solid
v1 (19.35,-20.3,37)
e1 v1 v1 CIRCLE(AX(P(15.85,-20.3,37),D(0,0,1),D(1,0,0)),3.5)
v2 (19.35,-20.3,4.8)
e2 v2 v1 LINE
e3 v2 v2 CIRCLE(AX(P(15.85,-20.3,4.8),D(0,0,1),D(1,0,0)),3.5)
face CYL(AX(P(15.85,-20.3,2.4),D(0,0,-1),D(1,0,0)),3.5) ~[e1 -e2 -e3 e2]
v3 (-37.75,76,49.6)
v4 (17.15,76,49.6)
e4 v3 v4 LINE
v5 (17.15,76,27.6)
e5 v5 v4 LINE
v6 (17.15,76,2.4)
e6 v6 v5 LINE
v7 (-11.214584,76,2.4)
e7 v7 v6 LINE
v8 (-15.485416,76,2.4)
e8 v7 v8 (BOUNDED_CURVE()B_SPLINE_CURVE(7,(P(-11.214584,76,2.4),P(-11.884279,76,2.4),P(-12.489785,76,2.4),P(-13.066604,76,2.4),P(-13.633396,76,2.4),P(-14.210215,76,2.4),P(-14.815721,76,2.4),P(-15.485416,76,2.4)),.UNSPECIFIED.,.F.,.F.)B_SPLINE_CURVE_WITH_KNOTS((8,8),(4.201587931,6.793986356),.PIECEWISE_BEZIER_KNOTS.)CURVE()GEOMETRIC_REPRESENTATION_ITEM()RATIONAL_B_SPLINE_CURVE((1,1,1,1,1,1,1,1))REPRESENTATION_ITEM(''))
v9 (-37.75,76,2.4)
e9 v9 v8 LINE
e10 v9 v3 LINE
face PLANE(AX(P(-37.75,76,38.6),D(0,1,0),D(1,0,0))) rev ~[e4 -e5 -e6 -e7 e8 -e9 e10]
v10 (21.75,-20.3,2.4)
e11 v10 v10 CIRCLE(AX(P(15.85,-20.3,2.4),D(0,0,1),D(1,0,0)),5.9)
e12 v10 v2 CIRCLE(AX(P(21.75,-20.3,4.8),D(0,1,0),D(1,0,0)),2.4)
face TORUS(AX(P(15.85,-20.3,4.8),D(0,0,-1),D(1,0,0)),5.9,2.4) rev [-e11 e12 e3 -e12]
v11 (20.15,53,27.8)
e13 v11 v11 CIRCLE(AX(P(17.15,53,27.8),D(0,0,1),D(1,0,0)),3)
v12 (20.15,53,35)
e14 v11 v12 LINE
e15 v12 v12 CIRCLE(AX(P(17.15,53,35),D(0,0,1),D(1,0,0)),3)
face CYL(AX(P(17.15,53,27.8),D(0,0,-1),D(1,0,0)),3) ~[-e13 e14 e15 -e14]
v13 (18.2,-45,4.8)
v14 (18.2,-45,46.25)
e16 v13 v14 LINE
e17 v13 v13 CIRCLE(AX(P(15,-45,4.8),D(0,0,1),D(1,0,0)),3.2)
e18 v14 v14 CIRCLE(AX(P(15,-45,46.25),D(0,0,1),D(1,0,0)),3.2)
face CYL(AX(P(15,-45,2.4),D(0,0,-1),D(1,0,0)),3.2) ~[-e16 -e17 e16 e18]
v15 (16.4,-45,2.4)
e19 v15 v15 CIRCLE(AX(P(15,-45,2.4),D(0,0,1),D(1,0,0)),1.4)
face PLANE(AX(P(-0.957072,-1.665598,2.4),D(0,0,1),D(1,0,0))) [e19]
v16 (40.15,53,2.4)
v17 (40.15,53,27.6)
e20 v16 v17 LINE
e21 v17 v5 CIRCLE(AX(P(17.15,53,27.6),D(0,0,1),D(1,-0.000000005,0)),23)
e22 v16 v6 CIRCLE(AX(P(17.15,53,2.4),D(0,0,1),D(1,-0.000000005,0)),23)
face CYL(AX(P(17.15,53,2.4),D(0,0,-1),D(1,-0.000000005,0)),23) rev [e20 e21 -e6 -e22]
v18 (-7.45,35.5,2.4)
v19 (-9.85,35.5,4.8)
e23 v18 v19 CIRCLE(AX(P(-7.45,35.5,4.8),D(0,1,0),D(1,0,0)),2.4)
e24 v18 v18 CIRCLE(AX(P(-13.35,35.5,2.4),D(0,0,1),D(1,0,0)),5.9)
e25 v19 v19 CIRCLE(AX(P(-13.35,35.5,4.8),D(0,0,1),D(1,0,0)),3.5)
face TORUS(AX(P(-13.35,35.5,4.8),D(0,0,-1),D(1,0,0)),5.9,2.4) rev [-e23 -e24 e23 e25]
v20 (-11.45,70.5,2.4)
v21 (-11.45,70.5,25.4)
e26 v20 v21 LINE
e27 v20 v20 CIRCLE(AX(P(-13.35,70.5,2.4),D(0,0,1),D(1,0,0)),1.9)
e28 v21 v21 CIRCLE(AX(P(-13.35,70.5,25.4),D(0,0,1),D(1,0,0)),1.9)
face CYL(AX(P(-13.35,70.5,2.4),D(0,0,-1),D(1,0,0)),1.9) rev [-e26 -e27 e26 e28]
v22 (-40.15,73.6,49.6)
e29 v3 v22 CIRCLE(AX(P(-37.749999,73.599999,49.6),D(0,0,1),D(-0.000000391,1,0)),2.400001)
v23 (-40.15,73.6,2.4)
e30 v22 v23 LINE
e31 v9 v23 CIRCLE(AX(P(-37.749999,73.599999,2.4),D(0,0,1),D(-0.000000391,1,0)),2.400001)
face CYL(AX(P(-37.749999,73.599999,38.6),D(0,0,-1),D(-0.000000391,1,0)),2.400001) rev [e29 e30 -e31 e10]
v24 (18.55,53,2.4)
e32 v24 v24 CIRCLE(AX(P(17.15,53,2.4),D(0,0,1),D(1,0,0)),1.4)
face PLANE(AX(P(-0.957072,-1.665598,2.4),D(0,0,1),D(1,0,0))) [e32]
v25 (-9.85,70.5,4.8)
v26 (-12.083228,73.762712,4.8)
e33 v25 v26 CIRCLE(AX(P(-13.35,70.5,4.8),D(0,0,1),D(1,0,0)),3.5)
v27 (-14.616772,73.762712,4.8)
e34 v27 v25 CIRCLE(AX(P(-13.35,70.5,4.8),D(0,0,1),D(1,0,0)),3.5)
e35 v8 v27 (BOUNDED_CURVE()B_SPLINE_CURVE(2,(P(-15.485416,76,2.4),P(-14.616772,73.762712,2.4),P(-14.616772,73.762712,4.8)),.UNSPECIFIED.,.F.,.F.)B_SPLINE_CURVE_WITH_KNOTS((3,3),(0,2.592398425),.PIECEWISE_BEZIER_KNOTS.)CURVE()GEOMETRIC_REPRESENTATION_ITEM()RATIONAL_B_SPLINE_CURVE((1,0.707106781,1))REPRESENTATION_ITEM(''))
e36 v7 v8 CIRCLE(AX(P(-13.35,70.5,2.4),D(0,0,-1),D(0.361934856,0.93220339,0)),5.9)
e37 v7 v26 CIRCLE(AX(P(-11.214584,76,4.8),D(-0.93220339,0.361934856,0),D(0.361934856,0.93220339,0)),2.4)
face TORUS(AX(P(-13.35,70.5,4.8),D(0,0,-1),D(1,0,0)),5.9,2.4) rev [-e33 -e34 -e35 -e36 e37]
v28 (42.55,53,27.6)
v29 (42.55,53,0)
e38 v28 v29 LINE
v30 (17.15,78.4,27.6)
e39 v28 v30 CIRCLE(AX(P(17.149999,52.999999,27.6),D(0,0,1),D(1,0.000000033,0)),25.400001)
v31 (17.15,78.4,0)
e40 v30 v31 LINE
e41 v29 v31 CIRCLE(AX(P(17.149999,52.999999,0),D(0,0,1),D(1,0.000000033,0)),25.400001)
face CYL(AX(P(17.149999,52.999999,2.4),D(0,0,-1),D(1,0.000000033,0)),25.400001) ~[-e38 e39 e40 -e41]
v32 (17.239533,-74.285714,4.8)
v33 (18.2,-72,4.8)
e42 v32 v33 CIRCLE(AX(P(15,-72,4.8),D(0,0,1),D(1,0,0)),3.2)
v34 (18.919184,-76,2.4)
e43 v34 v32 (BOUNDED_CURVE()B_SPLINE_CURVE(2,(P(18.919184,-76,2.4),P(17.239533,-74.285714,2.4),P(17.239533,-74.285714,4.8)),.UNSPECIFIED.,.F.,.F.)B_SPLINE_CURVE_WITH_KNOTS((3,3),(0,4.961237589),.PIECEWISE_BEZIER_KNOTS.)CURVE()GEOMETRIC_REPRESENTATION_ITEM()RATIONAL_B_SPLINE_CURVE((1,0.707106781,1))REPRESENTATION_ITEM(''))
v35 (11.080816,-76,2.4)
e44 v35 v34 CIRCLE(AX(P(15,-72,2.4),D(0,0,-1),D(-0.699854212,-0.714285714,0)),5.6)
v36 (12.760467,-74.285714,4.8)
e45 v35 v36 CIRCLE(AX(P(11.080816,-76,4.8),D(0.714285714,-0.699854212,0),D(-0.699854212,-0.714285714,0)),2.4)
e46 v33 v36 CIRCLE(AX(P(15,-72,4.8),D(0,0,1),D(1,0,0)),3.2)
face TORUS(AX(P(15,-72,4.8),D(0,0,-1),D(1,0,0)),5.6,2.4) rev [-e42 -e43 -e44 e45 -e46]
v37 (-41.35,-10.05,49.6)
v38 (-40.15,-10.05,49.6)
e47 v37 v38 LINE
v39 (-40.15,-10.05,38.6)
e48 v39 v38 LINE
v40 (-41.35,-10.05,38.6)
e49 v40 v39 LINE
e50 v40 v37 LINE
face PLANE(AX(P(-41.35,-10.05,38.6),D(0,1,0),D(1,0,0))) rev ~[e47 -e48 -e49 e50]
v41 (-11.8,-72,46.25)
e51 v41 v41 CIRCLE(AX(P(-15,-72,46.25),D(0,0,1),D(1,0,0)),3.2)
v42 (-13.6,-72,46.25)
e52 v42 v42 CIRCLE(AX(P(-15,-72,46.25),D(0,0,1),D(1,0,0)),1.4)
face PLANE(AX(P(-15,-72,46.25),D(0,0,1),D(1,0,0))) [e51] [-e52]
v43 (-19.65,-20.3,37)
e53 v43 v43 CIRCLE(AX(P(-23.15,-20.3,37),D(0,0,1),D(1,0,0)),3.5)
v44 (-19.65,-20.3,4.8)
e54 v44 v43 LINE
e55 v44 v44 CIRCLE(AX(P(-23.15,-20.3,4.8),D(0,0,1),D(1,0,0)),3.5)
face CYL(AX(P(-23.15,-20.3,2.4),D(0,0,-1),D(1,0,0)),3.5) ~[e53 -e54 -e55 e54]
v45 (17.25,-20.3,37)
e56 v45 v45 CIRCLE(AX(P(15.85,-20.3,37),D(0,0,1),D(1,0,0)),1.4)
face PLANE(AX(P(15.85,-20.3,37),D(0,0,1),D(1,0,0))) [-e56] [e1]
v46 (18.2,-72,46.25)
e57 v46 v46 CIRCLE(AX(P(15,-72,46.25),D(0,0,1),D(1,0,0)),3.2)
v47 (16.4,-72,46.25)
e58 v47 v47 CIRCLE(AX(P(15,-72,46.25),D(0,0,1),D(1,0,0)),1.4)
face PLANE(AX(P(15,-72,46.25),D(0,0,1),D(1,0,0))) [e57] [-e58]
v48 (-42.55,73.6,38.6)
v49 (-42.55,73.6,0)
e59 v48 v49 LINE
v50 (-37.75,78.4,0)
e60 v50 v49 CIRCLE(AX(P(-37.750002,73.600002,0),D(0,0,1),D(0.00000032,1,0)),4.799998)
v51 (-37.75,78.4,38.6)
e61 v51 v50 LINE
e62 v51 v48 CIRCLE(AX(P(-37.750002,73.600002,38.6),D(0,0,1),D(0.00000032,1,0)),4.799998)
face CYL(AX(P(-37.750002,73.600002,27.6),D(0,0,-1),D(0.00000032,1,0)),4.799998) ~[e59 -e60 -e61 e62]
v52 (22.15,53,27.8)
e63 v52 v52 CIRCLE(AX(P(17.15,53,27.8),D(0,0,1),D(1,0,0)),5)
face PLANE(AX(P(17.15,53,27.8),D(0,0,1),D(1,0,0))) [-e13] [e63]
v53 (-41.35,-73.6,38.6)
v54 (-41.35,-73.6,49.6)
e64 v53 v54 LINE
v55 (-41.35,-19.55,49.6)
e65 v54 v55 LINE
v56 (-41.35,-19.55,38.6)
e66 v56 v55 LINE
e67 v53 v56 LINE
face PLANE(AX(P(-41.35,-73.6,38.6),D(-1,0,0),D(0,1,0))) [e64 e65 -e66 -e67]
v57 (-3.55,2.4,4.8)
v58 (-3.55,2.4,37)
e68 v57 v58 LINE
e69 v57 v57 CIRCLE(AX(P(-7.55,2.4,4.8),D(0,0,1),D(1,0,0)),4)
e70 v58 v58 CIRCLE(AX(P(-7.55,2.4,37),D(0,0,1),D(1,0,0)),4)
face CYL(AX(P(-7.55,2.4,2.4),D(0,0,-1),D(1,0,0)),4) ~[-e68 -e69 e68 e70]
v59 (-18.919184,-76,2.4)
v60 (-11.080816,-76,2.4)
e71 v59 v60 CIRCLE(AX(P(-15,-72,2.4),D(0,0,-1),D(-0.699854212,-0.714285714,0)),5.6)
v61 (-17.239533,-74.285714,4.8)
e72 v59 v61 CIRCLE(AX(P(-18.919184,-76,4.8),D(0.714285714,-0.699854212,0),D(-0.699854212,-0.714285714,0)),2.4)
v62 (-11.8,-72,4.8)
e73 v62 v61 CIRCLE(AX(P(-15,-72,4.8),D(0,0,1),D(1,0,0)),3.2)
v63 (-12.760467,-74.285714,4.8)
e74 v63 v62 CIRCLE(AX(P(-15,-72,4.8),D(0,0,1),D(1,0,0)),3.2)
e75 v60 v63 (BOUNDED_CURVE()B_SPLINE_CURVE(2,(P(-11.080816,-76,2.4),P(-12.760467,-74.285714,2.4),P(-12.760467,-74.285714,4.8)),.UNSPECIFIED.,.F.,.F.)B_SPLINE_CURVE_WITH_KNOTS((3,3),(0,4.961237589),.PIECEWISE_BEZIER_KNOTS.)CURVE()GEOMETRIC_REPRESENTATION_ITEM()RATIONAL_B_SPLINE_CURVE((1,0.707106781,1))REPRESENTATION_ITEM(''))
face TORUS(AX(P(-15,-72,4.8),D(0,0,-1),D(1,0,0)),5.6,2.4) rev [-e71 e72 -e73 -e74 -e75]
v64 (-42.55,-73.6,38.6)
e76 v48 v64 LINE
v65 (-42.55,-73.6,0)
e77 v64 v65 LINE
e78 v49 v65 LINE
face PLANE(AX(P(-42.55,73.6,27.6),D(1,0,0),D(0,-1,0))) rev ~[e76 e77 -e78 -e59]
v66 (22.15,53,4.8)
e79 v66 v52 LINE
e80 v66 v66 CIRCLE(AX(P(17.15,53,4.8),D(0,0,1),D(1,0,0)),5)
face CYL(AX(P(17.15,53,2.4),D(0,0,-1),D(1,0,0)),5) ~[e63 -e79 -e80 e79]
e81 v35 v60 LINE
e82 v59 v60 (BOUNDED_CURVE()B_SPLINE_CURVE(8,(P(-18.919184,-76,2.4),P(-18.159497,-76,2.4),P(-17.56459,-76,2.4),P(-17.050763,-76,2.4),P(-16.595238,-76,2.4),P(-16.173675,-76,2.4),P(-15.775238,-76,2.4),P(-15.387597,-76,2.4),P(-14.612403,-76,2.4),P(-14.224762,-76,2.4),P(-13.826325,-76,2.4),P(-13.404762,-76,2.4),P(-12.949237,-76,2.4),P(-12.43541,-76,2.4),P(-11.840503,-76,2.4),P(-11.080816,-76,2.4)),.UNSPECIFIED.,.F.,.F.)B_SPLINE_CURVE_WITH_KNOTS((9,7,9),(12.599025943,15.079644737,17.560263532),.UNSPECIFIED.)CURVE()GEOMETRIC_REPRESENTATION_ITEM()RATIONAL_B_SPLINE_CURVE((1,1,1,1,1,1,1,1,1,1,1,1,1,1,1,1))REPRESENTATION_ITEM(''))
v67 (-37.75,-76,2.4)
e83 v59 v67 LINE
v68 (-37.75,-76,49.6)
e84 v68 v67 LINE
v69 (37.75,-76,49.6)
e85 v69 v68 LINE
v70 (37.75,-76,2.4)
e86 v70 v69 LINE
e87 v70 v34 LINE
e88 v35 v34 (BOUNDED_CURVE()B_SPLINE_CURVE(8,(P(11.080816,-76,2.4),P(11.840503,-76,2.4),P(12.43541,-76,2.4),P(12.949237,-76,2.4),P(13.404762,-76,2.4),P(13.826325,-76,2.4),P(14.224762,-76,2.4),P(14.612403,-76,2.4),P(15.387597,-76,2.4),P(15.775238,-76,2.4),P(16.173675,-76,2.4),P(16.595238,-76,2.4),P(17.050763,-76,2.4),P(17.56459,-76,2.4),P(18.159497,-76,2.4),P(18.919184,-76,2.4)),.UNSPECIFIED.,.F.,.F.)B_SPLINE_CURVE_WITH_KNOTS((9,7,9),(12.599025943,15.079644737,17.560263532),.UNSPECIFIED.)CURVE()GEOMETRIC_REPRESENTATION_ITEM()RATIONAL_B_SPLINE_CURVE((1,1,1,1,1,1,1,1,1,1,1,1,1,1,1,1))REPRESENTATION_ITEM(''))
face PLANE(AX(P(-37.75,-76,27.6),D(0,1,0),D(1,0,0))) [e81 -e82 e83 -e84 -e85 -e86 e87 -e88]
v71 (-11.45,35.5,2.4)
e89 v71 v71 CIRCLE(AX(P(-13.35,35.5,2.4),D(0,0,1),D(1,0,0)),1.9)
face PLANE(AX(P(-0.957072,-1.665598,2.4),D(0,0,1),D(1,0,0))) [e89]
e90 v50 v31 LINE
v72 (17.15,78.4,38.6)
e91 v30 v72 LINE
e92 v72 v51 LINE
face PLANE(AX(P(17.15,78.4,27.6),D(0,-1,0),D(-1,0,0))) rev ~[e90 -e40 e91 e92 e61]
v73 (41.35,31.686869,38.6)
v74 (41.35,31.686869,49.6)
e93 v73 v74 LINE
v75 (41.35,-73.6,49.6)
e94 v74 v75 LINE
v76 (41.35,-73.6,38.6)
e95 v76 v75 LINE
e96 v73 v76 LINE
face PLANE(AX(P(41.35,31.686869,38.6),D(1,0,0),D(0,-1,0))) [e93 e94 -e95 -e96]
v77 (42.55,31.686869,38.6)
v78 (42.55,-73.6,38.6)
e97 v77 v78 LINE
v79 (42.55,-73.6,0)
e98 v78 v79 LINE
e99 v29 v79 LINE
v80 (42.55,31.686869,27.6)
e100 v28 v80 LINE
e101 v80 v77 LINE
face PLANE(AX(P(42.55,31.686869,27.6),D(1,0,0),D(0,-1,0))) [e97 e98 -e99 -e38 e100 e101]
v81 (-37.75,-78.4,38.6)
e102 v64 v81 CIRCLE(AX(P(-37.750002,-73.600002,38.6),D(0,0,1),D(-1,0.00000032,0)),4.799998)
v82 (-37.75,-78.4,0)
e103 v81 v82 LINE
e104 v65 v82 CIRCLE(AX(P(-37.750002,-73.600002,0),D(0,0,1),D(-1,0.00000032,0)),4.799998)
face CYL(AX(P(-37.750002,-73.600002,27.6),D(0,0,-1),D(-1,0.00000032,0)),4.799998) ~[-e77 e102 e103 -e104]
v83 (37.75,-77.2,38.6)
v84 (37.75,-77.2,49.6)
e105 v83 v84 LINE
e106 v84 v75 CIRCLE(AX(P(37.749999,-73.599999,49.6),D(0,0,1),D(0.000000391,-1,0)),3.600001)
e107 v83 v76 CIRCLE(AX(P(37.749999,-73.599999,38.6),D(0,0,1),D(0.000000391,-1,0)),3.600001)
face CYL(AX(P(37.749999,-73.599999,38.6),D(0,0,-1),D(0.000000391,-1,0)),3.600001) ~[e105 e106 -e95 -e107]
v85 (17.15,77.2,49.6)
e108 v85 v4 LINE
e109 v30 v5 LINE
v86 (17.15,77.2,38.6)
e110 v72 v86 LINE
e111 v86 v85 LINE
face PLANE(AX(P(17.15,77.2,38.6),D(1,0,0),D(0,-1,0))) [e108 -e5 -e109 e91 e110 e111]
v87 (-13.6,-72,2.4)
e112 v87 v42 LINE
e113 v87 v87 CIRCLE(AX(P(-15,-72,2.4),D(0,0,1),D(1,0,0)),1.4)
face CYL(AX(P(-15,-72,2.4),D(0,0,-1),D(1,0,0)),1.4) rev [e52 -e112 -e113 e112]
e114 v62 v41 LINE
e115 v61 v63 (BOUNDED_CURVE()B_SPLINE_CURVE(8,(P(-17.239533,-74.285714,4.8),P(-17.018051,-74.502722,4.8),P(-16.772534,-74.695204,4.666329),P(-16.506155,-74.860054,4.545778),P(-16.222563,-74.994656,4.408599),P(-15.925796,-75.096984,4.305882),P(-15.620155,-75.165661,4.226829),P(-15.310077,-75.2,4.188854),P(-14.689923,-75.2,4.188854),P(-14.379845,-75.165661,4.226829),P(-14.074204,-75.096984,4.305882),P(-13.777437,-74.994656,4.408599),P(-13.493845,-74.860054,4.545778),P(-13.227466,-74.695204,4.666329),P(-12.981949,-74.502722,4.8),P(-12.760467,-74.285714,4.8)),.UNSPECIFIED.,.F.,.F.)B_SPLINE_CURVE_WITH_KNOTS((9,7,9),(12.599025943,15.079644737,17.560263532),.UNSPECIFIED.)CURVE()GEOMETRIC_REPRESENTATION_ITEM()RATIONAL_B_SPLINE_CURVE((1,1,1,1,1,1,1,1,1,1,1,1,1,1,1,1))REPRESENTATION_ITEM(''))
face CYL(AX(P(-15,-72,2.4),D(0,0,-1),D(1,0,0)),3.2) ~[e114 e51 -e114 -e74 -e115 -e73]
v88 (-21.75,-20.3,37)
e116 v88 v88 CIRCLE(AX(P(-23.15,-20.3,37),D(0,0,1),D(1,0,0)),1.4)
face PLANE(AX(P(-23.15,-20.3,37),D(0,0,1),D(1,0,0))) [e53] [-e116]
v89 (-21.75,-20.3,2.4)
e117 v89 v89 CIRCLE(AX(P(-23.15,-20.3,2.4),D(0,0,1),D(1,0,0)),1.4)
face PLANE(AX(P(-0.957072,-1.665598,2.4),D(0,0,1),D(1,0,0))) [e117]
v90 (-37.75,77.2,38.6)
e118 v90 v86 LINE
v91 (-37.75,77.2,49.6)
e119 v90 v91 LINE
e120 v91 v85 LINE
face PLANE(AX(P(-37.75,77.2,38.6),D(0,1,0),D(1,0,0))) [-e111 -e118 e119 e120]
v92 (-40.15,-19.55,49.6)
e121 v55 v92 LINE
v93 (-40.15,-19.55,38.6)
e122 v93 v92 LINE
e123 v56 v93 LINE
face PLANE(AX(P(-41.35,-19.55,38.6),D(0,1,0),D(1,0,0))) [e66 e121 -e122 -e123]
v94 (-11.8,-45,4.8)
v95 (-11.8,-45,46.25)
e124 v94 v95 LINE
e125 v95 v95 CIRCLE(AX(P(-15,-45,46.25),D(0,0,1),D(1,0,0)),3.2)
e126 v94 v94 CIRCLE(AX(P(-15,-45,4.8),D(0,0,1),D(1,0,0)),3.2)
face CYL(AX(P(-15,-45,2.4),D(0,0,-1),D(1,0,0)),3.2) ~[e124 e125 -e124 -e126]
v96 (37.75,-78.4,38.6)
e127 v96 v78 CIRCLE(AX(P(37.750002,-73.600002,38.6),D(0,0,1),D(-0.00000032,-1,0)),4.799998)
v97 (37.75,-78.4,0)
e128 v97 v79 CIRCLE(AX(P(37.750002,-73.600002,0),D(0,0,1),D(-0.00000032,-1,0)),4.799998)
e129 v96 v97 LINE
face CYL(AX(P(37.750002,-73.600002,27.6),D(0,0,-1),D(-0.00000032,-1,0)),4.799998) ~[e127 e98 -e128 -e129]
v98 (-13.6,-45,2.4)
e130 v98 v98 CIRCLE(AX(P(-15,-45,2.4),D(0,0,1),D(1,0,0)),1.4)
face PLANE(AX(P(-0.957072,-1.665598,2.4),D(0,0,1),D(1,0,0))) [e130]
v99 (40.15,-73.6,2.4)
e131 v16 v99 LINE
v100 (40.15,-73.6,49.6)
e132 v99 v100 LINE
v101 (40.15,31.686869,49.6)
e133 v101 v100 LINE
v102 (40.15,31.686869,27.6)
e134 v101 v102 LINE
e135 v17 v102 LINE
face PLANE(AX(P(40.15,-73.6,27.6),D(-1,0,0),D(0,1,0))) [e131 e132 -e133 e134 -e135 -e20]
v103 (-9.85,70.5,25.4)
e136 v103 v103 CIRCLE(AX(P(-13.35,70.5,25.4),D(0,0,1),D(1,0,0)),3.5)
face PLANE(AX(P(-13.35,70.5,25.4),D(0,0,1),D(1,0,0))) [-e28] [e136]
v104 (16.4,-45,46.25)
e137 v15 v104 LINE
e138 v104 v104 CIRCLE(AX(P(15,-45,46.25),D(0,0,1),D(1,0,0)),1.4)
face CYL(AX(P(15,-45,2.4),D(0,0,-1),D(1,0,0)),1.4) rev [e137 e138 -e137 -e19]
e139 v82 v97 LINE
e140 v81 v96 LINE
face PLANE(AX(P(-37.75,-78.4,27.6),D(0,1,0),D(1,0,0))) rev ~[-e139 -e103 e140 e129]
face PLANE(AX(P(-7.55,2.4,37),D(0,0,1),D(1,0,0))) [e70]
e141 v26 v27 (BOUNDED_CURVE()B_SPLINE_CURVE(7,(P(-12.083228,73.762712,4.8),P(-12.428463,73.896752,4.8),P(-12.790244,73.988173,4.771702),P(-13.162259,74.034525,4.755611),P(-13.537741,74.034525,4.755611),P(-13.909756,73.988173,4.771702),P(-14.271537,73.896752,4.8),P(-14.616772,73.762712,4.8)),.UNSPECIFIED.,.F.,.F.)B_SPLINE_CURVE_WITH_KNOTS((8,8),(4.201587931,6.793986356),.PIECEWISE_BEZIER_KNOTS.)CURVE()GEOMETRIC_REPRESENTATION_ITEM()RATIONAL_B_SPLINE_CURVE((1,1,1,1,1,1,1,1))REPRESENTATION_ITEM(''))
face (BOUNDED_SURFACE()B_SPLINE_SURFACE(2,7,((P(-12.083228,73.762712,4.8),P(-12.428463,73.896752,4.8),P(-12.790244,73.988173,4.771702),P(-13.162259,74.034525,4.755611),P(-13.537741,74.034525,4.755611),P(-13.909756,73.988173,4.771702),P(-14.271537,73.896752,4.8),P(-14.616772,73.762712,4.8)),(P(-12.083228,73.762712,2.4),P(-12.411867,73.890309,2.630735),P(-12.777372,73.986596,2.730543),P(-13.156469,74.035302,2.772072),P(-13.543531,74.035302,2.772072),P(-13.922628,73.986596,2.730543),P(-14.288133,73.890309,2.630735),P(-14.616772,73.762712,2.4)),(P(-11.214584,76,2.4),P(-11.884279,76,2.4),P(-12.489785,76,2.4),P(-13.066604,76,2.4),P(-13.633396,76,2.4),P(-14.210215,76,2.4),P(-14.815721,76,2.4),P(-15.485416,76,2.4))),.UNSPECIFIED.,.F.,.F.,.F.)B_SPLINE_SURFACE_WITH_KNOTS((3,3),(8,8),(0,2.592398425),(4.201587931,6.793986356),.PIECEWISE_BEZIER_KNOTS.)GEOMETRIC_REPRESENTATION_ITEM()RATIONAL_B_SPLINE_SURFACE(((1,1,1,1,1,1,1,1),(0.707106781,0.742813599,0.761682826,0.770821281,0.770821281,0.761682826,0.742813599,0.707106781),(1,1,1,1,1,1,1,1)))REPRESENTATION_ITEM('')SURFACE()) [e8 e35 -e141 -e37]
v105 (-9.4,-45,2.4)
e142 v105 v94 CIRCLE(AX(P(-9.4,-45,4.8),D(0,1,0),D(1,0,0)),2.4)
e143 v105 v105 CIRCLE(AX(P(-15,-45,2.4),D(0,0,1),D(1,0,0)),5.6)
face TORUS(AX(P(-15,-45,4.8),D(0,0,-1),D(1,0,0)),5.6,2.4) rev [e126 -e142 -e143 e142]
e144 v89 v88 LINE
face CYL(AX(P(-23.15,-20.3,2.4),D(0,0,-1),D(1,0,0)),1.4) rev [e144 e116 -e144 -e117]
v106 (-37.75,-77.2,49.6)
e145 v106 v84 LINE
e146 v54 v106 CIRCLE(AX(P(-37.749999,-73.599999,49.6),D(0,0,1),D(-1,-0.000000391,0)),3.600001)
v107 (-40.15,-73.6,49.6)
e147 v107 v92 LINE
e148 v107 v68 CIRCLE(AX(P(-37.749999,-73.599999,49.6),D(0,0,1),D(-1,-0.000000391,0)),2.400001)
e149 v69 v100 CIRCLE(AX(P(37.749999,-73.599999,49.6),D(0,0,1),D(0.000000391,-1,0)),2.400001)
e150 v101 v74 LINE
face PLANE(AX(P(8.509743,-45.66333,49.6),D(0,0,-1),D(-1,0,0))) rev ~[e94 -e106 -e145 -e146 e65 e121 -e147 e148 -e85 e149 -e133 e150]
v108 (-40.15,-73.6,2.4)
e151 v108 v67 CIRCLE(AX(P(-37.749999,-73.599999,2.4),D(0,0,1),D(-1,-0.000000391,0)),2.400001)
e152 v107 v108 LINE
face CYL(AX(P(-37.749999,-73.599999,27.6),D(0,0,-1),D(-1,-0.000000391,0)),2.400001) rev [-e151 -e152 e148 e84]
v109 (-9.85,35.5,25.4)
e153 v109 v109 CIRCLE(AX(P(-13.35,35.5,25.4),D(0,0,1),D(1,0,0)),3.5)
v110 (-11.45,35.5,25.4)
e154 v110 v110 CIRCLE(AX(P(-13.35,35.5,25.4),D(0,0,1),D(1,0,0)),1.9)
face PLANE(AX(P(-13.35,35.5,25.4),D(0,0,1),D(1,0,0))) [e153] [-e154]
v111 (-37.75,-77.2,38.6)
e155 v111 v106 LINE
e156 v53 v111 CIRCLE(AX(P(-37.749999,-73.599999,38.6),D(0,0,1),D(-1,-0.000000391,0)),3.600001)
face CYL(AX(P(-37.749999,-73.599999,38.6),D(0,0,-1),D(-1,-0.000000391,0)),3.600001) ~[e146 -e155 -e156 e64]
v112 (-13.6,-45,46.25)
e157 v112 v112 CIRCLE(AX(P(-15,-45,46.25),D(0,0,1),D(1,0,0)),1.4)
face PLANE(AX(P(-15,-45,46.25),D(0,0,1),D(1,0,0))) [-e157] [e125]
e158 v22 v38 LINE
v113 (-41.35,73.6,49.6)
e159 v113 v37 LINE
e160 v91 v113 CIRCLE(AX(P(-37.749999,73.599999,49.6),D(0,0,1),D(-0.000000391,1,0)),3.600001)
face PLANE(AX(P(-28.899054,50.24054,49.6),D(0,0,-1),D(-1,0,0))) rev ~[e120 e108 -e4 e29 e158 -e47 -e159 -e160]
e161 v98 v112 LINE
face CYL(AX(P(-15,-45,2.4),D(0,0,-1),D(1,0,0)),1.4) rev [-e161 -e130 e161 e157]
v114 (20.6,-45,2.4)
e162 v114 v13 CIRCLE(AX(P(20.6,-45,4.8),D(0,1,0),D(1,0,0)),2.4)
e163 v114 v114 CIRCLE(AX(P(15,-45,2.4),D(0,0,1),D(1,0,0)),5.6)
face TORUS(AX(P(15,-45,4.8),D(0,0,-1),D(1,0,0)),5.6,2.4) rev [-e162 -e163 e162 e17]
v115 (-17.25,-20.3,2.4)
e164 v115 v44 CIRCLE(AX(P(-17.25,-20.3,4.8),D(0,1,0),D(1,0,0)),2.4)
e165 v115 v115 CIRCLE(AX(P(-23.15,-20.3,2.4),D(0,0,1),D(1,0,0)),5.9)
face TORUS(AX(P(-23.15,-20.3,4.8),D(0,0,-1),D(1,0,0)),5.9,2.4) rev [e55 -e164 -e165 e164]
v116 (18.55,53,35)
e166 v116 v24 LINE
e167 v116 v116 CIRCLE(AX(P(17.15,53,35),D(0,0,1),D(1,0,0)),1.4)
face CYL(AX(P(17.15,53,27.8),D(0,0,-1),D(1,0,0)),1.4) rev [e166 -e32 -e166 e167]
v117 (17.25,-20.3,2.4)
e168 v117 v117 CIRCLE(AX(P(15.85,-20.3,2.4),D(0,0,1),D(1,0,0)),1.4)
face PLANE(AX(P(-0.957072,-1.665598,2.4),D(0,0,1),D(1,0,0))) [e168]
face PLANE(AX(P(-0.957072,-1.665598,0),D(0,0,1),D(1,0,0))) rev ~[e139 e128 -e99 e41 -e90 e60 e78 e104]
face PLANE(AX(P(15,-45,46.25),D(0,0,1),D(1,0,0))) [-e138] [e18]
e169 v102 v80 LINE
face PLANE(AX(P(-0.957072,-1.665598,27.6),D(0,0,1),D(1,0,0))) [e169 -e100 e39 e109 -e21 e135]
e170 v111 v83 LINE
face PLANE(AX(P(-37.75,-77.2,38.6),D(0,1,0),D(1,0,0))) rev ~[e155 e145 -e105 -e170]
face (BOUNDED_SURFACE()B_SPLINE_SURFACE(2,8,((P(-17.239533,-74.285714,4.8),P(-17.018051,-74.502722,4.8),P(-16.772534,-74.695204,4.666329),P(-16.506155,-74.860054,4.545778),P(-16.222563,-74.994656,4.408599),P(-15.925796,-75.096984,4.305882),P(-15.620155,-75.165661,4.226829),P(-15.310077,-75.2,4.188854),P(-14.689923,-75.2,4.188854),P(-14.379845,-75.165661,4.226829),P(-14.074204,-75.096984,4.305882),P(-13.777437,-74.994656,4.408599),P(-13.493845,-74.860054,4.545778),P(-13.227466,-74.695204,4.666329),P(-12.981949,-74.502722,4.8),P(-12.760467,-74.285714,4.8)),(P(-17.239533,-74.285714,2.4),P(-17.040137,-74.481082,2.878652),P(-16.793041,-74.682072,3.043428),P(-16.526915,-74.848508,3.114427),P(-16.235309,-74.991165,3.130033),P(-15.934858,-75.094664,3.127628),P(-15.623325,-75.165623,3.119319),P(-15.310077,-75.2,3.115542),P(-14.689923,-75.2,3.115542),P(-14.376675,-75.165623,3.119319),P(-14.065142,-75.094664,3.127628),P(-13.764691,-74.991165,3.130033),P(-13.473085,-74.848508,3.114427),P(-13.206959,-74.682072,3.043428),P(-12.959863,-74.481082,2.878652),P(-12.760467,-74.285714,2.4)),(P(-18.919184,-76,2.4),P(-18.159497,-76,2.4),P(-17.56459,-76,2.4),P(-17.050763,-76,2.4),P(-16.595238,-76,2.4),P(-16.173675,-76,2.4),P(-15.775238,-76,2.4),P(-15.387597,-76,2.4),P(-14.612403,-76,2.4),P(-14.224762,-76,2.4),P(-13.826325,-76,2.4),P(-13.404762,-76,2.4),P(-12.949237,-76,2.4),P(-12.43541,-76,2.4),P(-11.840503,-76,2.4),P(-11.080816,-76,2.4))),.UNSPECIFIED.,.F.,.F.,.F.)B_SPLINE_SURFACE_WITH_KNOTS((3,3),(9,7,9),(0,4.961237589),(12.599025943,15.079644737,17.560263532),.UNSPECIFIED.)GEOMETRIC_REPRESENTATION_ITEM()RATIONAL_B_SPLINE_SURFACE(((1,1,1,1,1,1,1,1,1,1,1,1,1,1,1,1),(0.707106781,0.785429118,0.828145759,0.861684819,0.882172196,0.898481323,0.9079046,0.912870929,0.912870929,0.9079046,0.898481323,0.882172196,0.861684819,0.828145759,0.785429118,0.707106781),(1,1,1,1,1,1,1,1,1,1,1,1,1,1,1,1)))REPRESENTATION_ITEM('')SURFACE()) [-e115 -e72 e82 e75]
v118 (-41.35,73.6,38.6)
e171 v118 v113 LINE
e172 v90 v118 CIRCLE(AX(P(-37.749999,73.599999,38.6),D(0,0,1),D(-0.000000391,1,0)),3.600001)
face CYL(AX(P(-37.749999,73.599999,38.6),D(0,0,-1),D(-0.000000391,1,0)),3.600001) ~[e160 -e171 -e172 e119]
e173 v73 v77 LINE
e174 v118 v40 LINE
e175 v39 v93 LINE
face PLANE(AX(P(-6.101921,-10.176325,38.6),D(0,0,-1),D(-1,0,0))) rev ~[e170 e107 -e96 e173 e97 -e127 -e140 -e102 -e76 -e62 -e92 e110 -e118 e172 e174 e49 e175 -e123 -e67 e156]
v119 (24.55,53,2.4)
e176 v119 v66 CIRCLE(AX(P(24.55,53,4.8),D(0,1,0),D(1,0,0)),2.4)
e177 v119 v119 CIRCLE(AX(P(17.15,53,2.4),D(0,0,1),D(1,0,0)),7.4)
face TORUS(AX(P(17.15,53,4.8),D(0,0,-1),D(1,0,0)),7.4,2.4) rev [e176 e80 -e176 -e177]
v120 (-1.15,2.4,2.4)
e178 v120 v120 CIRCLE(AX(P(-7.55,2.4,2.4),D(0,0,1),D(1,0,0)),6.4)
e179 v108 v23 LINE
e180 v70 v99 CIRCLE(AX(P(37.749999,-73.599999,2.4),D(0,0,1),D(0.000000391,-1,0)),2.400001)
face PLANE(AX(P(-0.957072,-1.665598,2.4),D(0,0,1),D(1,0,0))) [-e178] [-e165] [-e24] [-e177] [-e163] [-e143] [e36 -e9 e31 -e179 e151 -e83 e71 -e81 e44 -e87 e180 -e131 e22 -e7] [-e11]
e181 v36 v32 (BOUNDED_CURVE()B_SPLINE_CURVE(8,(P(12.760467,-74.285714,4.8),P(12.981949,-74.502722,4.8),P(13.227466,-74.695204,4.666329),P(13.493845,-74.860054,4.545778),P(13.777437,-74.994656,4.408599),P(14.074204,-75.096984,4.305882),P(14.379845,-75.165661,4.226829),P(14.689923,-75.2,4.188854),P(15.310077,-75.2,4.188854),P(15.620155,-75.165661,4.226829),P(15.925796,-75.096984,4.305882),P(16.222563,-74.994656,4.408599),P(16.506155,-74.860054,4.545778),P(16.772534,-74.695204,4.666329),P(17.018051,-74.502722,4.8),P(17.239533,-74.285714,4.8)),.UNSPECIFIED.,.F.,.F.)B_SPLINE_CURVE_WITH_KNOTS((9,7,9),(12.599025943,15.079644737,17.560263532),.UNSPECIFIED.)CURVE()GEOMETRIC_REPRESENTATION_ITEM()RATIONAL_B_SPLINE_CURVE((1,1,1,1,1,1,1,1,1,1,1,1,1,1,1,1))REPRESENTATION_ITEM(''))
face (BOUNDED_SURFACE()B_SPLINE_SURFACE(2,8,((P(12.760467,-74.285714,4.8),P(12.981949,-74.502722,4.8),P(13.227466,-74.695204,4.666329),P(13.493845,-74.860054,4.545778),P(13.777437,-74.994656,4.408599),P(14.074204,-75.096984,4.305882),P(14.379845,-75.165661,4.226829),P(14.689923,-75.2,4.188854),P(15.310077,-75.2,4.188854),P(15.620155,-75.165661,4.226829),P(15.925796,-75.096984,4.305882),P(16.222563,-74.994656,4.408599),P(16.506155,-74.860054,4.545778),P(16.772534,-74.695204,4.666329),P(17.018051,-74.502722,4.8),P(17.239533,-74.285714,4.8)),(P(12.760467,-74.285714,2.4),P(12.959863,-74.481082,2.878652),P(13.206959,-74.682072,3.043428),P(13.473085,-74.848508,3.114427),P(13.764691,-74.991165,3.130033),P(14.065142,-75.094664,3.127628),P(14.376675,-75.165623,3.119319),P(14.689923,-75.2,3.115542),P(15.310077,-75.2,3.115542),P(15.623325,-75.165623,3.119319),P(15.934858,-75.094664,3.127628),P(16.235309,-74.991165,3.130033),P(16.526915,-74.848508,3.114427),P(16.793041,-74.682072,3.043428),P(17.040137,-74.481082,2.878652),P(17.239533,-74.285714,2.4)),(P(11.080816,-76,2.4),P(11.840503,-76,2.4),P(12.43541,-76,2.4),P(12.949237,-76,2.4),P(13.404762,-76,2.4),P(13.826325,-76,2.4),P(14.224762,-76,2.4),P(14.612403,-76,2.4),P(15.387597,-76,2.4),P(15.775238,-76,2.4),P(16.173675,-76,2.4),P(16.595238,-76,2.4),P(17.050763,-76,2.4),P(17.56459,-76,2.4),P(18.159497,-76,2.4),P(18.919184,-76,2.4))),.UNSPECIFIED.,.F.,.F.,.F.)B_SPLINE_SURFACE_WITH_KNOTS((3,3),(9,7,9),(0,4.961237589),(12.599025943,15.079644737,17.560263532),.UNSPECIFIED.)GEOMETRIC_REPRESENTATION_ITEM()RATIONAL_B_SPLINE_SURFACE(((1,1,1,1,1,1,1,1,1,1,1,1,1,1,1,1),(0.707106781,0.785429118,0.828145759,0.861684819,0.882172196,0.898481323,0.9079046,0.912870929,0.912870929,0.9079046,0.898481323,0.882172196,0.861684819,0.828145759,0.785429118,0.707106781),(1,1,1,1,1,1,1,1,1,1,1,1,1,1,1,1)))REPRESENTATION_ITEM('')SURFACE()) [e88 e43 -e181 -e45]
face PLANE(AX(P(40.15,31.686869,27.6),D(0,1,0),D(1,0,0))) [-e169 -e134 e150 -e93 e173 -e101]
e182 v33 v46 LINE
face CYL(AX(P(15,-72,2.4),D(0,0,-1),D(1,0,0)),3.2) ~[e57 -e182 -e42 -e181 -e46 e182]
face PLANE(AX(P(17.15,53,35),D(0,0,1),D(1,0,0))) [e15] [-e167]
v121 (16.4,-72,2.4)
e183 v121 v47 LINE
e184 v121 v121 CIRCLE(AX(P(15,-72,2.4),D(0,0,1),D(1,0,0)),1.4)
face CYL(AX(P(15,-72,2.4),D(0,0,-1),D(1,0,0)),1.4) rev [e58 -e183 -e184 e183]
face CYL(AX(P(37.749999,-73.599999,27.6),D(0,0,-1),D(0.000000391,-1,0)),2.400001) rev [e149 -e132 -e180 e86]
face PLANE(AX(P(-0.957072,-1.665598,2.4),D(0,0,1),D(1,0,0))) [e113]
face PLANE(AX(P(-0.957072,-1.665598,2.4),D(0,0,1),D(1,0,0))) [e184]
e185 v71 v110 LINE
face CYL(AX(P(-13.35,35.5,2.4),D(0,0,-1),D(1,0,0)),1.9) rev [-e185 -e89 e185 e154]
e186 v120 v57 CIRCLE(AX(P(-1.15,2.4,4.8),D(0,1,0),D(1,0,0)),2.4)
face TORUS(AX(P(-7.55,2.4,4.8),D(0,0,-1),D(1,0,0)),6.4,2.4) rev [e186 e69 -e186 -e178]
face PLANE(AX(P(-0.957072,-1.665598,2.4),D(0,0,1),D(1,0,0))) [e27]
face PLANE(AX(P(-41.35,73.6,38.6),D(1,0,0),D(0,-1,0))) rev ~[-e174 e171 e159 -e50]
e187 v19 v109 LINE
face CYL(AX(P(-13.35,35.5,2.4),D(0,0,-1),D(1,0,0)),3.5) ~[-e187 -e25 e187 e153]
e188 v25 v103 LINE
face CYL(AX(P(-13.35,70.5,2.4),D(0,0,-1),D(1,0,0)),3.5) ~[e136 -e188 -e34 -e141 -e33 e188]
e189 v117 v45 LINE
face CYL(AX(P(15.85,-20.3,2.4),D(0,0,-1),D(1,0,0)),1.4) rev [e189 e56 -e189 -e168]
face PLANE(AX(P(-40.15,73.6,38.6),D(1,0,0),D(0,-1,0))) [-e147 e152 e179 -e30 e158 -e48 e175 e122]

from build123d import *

# Parameters (mm, degrees)
PAD_DEPTH     = 2.4
PAD001_DEPTH  = 25.2
SKETCH002_R   = 3.5
SKETCH002_R_2 = 1.9
PAD002_DEPTH  = 23
SKETCH003_R   = 5
SKETCH003_R_2 = 1.4
PAD003_DEPTH  = 25.4
SKETCH004_R   = 3
SKETCH004_R_2 = 1.4
PAD004_DEPTH  = 7.2
SKETCH005_R   = 3.5
SKETCH005_R_2 = 1.4
SKETCH005_R_3 = 4
PAD005_DEPTH  = 34.6
PAD006_DEPTH  = 11
PAD007_DEPTH  = 11
SKETCH008_R   = 3.2
SKETCH008_R_2 = 1.4
PAD008_DEPTH  = 43.85
FILLET_R      = 2.4


with BuildPart() as part:
    # Sketch → Pad (new body)
    with BuildSketch(Plane.XY):
        with BuildLine():
            ThreePointArc((-37.75, 78.4), (-41.144113, 76.994113), (-42.55, 73.6))
            Line((-42.55, 73.6), (-42.55, -73.6))
            ThreePointArc((-42.55, -73.6), (-41.144113, -76.994113), (-37.75, -78.4))
            Line((-37.75, -78.4), (37.75, -78.4))
            ThreePointArc((37.75, -78.4), (41.144113, -76.994113), (42.55, -73.6))
            Line((42.55, 53), (42.55, -73.6))
            ThreePointArc((42.55, 53), (35.110512, 70.960512), (17.15, 78.4))
            Line((-37.75, 78.4), (17.15, 78.4))
        make_face()
    extrude(amount=PAD_DEPTH)

    # Sketch001 → Pad001 (join)
    with BuildSketch(Plane.XY.offset(2.4)):
        with BuildLine():
            ThreePointArc((-37.75, 78.4), (-41.144113, 76.994113), (-42.55, 73.6))
            Line((-42.55, 73.6), (-42.55, -73.6))
            ThreePointArc((-42.55, -73.6), (-41.144113, -76.994113), (-37.75, -78.4))
            Line((37.75, -78.4), (-37.75, -78.4))
            ThreePointArc((37.75, -78.4), (41.144113, -76.994113), (42.55, -73.6))
            Line((42.55, 53), (42.55, -73.6))
            ThreePointArc((42.55, 53), (35.110512, 70.960512), (17.15, 78.4))
            Line((-37.75, 78.4), (17.15, 78.4))
        make_face()
        with BuildLine():
            ThreePointArc((-37.75, 76), (-39.447056, 75.297056), (-40.15, 73.6))
            Line((-40.15, -73.6), (-40.15, 73.6))
            ThreePointArc((-40.15, -73.6), (-39.447056, -75.297056), (-37.75, -76))
            Line((37.75, -76), (-37.75, -76))
            ThreePointArc((37.75, -76), (39.447056, -75.297056), (40.15, -73.6))
            Line((40.15, 53), (40.15, -73.6))
            ThreePointArc((40.15, 53), (33.413456, 69.263456), (17.15, 76))
            Line((-37.75, 76), (17.15, 76))
        make_face(mode=Mode.SUBTRACT)
    extrude(amount=PAD001_DEPTH)

    # Sketch002 → Pad002 (join)
    with BuildSketch(Plane.XY.offset(2.4)):
        with Locations((-13.35, 70.5)):
            Circle(SKETCH002_R)
        with Locations((-13.35, 70.5)):
            Circle(SKETCH002_R_2, mode=Mode.SUBTRACT)
        with Locations((-13.35, 35.5)):
            Circle(SKETCH002_R)
        with Locations((-13.35, 35.5)):
            Circle(SKETCH002_R_2, mode=Mode.SUBTRACT)
    extrude(amount=PAD002_DEPTH)

    # Sketch003 → Pad003 (join)
    with BuildSketch(Plane.XY.offset(2.4)):
        with Locations((17.15, 53)):
            Circle(SKETCH003_R)
        with Locations((17.15, 53)):
            Circle(SKETCH003_R_2, mode=Mode.SUBTRACT)
    extrude(amount=PAD003_DEPTH)

    # Sketch004 → Pad004 (join)
    with BuildSketch(Plane.XY.offset(27.8)):
        with Locations((17.15, 53)):
            Circle(SKETCH004_R)
        with Locations((17.15, 53)):
            Circle(SKETCH004_R_2, mode=Mode.SUBTRACT)
    extrude(amount=PAD004_DEPTH)

    # Sketch005 → Pad005 (join)
    with BuildSketch(Plane.XY.offset(2.4)):
        with Locations((-23.15, -20.3)):
            Circle(SKETCH005_R)
        with Locations((-23.15, -20.3)):
            Circle(SKETCH005_R_2, mode=Mode.SUBTRACT)
        with Locations((15.85, -20.3)):
            Circle(SKETCH005_R)
        with Locations((15.85, -20.3)):
            Circle(SKETCH005_R_2, mode=Mode.SUBTRACT)
        with Locations((-7.55, 2.4)):
            Circle(SKETCH005_R_3)
    extrude(amount=PAD005_DEPTH)

    # Sketch006 → Pad006 (join)
    with BuildSketch(Plane.XY.offset(27.6)):
        with BuildLine():
            ThreePointArc((-37.75, 76), (-39.447056, 75.297056), (-40.15, 73.6))
            Line((-40.15, 73.6), (-40.15, -73.6))
            ThreePointArc((-40.15, -73.6), (-39.447056, -75.297056), (-37.75, -76))
            Line((-37.75, -76), (37.75, -76))
            ThreePointArc((37.75, -76), (39.447056, -75.297056), (40.15, -73.6))
            Line((40.15, -73.6), (40.15, 31.686869))
            Line((40.15, 31.686869), (42.55, 31.686869))
            Line((42.55, 31.686869), (42.55, -73.6))
            ThreePointArc((37.75, -78.4), (41.144113, -76.994113), (42.55, -73.6))
            Line((-37.75, -78.4), (37.75, -78.4))
            ThreePointArc((-42.55, -73.6), (-41.144113, -76.994113), (-37.75, -78.4))
            Line((-42.55, 73.6), (-42.55, -73.6))
            ThreePointArc((-37.75, 78.4), (-41.144113, 76.994113), (-42.55, 73.6))
            Line((17.15, 78.4), (-37.75, 78.4))
            Line((17.15, 78.4), (17.15, 76))
            Line((-37.75, 76), (17.15, 76))
        make_face()
    extrude(amount=PAD006_DEPTH)

    # Sketch007 → Pad007 (join)
    with BuildSketch(Plane.XY.offset(38.6)):
        with BuildLine():
            ThreePointArc((-37.75, 76), (-39.447056, 75.297056), (-40.15, 73.6))
            Line((-40.15, 73.6), (-40.15, -10.05))
            Line((-41.35, -10.05), (-40.15, -10.05))
            Line((-41.35, 73.6), (-41.35, -10.05))
            ThreePointArc((-37.75, 77.2), (-40.295584, 76.145584), (-41.35, 73.6))
            Line((-37.75, 77.2), (17.15, 77.2))
            Line((17.15, 77.2), (17.15, 76))
            Line((-37.75, 76), (17.15, 76))
        make_face()
        with BuildLine():
            ThreePointArc((37.75, -76), (39.447056, -75.297056), (40.15, -73.6))
            Line((40.15, 31.686869), (40.15, -73.6))
            Line((40.15, 31.686869), (41.35, 31.686869))
            Line((41.35, 31.686869), (41.35, -73.6))
            ThreePointArc((37.75, -77.2), (40.295584, -76.145584), (41.35, -73.6))
            Line((-37.75, -77.2), (37.75, -77.2))
            ThreePointArc((-41.35, -73.6), (-40.295584, -76.145584), (-37.75, -77.2))
            Line((-41.35, -73.6), (-41.35, -19.55))
            Line((-41.35, -19.55), (-40.15, -19.55))
            Line((-40.15, -73.6), (-40.15, -19.55))
            ThreePointArc((-40.15, -73.6), (-39.447056, -75.297056), (-37.75, -76))
            Line((37.75, -76), (-37.75, -76))
        make_face()
    extrude(amount=PAD007_DEPTH)

    # Sketch008 → Pad008 (join)
    with BuildSketch(Plane.XY.offset(2.4)):
        with Locations((-15, -45)):
            Circle(SKETCH008_R)
        with Locations((-15, -45)):
            Circle(SKETCH008_R_2, mode=Mode.SUBTRACT)
        with Locations((15, -45)):
            Circle(SKETCH008_R)
        with Locations((15, -45)):
            Circle(SKETCH008_R_2, mode=Mode.SUBTRACT)
        with Locations((-15, -72)):
            Circle(SKETCH008_R)
        with Locations((-15, -72)):
            Circle(SKETCH008_R_2, mode=Mode.SUBTRACT)
        with Locations((15, -72)):
            Circle(SKETCH008_R)
        with Locations((15, -72)):
            Circle(SKETCH008_R_2, mode=Mode.SUBTRACT)
    extrude(amount=PAD008_DEPTH)

    # Fillet
    fillet_edges = [part.edges().sort_by_distance(p)[0] for p in [
        (-16.85, 35.5, 2.4),
        (-16.85, 70.5, 2.4),
        (-11.55, 2.4, 2.4),
        (-26.65, -20.3, 2.4),
        (12.35, -20.3, 2.4),
        (11.8, -45, 2.4),
        (-18.2, -45, 2.4),
        (-18.2, -72, 2.4),
        (11.8, -72, 2.4),
        (12.15, 53, 2.4),
    ]]
    fillet(fillet_edges, radius=FILLET_R)


solid = part.part
